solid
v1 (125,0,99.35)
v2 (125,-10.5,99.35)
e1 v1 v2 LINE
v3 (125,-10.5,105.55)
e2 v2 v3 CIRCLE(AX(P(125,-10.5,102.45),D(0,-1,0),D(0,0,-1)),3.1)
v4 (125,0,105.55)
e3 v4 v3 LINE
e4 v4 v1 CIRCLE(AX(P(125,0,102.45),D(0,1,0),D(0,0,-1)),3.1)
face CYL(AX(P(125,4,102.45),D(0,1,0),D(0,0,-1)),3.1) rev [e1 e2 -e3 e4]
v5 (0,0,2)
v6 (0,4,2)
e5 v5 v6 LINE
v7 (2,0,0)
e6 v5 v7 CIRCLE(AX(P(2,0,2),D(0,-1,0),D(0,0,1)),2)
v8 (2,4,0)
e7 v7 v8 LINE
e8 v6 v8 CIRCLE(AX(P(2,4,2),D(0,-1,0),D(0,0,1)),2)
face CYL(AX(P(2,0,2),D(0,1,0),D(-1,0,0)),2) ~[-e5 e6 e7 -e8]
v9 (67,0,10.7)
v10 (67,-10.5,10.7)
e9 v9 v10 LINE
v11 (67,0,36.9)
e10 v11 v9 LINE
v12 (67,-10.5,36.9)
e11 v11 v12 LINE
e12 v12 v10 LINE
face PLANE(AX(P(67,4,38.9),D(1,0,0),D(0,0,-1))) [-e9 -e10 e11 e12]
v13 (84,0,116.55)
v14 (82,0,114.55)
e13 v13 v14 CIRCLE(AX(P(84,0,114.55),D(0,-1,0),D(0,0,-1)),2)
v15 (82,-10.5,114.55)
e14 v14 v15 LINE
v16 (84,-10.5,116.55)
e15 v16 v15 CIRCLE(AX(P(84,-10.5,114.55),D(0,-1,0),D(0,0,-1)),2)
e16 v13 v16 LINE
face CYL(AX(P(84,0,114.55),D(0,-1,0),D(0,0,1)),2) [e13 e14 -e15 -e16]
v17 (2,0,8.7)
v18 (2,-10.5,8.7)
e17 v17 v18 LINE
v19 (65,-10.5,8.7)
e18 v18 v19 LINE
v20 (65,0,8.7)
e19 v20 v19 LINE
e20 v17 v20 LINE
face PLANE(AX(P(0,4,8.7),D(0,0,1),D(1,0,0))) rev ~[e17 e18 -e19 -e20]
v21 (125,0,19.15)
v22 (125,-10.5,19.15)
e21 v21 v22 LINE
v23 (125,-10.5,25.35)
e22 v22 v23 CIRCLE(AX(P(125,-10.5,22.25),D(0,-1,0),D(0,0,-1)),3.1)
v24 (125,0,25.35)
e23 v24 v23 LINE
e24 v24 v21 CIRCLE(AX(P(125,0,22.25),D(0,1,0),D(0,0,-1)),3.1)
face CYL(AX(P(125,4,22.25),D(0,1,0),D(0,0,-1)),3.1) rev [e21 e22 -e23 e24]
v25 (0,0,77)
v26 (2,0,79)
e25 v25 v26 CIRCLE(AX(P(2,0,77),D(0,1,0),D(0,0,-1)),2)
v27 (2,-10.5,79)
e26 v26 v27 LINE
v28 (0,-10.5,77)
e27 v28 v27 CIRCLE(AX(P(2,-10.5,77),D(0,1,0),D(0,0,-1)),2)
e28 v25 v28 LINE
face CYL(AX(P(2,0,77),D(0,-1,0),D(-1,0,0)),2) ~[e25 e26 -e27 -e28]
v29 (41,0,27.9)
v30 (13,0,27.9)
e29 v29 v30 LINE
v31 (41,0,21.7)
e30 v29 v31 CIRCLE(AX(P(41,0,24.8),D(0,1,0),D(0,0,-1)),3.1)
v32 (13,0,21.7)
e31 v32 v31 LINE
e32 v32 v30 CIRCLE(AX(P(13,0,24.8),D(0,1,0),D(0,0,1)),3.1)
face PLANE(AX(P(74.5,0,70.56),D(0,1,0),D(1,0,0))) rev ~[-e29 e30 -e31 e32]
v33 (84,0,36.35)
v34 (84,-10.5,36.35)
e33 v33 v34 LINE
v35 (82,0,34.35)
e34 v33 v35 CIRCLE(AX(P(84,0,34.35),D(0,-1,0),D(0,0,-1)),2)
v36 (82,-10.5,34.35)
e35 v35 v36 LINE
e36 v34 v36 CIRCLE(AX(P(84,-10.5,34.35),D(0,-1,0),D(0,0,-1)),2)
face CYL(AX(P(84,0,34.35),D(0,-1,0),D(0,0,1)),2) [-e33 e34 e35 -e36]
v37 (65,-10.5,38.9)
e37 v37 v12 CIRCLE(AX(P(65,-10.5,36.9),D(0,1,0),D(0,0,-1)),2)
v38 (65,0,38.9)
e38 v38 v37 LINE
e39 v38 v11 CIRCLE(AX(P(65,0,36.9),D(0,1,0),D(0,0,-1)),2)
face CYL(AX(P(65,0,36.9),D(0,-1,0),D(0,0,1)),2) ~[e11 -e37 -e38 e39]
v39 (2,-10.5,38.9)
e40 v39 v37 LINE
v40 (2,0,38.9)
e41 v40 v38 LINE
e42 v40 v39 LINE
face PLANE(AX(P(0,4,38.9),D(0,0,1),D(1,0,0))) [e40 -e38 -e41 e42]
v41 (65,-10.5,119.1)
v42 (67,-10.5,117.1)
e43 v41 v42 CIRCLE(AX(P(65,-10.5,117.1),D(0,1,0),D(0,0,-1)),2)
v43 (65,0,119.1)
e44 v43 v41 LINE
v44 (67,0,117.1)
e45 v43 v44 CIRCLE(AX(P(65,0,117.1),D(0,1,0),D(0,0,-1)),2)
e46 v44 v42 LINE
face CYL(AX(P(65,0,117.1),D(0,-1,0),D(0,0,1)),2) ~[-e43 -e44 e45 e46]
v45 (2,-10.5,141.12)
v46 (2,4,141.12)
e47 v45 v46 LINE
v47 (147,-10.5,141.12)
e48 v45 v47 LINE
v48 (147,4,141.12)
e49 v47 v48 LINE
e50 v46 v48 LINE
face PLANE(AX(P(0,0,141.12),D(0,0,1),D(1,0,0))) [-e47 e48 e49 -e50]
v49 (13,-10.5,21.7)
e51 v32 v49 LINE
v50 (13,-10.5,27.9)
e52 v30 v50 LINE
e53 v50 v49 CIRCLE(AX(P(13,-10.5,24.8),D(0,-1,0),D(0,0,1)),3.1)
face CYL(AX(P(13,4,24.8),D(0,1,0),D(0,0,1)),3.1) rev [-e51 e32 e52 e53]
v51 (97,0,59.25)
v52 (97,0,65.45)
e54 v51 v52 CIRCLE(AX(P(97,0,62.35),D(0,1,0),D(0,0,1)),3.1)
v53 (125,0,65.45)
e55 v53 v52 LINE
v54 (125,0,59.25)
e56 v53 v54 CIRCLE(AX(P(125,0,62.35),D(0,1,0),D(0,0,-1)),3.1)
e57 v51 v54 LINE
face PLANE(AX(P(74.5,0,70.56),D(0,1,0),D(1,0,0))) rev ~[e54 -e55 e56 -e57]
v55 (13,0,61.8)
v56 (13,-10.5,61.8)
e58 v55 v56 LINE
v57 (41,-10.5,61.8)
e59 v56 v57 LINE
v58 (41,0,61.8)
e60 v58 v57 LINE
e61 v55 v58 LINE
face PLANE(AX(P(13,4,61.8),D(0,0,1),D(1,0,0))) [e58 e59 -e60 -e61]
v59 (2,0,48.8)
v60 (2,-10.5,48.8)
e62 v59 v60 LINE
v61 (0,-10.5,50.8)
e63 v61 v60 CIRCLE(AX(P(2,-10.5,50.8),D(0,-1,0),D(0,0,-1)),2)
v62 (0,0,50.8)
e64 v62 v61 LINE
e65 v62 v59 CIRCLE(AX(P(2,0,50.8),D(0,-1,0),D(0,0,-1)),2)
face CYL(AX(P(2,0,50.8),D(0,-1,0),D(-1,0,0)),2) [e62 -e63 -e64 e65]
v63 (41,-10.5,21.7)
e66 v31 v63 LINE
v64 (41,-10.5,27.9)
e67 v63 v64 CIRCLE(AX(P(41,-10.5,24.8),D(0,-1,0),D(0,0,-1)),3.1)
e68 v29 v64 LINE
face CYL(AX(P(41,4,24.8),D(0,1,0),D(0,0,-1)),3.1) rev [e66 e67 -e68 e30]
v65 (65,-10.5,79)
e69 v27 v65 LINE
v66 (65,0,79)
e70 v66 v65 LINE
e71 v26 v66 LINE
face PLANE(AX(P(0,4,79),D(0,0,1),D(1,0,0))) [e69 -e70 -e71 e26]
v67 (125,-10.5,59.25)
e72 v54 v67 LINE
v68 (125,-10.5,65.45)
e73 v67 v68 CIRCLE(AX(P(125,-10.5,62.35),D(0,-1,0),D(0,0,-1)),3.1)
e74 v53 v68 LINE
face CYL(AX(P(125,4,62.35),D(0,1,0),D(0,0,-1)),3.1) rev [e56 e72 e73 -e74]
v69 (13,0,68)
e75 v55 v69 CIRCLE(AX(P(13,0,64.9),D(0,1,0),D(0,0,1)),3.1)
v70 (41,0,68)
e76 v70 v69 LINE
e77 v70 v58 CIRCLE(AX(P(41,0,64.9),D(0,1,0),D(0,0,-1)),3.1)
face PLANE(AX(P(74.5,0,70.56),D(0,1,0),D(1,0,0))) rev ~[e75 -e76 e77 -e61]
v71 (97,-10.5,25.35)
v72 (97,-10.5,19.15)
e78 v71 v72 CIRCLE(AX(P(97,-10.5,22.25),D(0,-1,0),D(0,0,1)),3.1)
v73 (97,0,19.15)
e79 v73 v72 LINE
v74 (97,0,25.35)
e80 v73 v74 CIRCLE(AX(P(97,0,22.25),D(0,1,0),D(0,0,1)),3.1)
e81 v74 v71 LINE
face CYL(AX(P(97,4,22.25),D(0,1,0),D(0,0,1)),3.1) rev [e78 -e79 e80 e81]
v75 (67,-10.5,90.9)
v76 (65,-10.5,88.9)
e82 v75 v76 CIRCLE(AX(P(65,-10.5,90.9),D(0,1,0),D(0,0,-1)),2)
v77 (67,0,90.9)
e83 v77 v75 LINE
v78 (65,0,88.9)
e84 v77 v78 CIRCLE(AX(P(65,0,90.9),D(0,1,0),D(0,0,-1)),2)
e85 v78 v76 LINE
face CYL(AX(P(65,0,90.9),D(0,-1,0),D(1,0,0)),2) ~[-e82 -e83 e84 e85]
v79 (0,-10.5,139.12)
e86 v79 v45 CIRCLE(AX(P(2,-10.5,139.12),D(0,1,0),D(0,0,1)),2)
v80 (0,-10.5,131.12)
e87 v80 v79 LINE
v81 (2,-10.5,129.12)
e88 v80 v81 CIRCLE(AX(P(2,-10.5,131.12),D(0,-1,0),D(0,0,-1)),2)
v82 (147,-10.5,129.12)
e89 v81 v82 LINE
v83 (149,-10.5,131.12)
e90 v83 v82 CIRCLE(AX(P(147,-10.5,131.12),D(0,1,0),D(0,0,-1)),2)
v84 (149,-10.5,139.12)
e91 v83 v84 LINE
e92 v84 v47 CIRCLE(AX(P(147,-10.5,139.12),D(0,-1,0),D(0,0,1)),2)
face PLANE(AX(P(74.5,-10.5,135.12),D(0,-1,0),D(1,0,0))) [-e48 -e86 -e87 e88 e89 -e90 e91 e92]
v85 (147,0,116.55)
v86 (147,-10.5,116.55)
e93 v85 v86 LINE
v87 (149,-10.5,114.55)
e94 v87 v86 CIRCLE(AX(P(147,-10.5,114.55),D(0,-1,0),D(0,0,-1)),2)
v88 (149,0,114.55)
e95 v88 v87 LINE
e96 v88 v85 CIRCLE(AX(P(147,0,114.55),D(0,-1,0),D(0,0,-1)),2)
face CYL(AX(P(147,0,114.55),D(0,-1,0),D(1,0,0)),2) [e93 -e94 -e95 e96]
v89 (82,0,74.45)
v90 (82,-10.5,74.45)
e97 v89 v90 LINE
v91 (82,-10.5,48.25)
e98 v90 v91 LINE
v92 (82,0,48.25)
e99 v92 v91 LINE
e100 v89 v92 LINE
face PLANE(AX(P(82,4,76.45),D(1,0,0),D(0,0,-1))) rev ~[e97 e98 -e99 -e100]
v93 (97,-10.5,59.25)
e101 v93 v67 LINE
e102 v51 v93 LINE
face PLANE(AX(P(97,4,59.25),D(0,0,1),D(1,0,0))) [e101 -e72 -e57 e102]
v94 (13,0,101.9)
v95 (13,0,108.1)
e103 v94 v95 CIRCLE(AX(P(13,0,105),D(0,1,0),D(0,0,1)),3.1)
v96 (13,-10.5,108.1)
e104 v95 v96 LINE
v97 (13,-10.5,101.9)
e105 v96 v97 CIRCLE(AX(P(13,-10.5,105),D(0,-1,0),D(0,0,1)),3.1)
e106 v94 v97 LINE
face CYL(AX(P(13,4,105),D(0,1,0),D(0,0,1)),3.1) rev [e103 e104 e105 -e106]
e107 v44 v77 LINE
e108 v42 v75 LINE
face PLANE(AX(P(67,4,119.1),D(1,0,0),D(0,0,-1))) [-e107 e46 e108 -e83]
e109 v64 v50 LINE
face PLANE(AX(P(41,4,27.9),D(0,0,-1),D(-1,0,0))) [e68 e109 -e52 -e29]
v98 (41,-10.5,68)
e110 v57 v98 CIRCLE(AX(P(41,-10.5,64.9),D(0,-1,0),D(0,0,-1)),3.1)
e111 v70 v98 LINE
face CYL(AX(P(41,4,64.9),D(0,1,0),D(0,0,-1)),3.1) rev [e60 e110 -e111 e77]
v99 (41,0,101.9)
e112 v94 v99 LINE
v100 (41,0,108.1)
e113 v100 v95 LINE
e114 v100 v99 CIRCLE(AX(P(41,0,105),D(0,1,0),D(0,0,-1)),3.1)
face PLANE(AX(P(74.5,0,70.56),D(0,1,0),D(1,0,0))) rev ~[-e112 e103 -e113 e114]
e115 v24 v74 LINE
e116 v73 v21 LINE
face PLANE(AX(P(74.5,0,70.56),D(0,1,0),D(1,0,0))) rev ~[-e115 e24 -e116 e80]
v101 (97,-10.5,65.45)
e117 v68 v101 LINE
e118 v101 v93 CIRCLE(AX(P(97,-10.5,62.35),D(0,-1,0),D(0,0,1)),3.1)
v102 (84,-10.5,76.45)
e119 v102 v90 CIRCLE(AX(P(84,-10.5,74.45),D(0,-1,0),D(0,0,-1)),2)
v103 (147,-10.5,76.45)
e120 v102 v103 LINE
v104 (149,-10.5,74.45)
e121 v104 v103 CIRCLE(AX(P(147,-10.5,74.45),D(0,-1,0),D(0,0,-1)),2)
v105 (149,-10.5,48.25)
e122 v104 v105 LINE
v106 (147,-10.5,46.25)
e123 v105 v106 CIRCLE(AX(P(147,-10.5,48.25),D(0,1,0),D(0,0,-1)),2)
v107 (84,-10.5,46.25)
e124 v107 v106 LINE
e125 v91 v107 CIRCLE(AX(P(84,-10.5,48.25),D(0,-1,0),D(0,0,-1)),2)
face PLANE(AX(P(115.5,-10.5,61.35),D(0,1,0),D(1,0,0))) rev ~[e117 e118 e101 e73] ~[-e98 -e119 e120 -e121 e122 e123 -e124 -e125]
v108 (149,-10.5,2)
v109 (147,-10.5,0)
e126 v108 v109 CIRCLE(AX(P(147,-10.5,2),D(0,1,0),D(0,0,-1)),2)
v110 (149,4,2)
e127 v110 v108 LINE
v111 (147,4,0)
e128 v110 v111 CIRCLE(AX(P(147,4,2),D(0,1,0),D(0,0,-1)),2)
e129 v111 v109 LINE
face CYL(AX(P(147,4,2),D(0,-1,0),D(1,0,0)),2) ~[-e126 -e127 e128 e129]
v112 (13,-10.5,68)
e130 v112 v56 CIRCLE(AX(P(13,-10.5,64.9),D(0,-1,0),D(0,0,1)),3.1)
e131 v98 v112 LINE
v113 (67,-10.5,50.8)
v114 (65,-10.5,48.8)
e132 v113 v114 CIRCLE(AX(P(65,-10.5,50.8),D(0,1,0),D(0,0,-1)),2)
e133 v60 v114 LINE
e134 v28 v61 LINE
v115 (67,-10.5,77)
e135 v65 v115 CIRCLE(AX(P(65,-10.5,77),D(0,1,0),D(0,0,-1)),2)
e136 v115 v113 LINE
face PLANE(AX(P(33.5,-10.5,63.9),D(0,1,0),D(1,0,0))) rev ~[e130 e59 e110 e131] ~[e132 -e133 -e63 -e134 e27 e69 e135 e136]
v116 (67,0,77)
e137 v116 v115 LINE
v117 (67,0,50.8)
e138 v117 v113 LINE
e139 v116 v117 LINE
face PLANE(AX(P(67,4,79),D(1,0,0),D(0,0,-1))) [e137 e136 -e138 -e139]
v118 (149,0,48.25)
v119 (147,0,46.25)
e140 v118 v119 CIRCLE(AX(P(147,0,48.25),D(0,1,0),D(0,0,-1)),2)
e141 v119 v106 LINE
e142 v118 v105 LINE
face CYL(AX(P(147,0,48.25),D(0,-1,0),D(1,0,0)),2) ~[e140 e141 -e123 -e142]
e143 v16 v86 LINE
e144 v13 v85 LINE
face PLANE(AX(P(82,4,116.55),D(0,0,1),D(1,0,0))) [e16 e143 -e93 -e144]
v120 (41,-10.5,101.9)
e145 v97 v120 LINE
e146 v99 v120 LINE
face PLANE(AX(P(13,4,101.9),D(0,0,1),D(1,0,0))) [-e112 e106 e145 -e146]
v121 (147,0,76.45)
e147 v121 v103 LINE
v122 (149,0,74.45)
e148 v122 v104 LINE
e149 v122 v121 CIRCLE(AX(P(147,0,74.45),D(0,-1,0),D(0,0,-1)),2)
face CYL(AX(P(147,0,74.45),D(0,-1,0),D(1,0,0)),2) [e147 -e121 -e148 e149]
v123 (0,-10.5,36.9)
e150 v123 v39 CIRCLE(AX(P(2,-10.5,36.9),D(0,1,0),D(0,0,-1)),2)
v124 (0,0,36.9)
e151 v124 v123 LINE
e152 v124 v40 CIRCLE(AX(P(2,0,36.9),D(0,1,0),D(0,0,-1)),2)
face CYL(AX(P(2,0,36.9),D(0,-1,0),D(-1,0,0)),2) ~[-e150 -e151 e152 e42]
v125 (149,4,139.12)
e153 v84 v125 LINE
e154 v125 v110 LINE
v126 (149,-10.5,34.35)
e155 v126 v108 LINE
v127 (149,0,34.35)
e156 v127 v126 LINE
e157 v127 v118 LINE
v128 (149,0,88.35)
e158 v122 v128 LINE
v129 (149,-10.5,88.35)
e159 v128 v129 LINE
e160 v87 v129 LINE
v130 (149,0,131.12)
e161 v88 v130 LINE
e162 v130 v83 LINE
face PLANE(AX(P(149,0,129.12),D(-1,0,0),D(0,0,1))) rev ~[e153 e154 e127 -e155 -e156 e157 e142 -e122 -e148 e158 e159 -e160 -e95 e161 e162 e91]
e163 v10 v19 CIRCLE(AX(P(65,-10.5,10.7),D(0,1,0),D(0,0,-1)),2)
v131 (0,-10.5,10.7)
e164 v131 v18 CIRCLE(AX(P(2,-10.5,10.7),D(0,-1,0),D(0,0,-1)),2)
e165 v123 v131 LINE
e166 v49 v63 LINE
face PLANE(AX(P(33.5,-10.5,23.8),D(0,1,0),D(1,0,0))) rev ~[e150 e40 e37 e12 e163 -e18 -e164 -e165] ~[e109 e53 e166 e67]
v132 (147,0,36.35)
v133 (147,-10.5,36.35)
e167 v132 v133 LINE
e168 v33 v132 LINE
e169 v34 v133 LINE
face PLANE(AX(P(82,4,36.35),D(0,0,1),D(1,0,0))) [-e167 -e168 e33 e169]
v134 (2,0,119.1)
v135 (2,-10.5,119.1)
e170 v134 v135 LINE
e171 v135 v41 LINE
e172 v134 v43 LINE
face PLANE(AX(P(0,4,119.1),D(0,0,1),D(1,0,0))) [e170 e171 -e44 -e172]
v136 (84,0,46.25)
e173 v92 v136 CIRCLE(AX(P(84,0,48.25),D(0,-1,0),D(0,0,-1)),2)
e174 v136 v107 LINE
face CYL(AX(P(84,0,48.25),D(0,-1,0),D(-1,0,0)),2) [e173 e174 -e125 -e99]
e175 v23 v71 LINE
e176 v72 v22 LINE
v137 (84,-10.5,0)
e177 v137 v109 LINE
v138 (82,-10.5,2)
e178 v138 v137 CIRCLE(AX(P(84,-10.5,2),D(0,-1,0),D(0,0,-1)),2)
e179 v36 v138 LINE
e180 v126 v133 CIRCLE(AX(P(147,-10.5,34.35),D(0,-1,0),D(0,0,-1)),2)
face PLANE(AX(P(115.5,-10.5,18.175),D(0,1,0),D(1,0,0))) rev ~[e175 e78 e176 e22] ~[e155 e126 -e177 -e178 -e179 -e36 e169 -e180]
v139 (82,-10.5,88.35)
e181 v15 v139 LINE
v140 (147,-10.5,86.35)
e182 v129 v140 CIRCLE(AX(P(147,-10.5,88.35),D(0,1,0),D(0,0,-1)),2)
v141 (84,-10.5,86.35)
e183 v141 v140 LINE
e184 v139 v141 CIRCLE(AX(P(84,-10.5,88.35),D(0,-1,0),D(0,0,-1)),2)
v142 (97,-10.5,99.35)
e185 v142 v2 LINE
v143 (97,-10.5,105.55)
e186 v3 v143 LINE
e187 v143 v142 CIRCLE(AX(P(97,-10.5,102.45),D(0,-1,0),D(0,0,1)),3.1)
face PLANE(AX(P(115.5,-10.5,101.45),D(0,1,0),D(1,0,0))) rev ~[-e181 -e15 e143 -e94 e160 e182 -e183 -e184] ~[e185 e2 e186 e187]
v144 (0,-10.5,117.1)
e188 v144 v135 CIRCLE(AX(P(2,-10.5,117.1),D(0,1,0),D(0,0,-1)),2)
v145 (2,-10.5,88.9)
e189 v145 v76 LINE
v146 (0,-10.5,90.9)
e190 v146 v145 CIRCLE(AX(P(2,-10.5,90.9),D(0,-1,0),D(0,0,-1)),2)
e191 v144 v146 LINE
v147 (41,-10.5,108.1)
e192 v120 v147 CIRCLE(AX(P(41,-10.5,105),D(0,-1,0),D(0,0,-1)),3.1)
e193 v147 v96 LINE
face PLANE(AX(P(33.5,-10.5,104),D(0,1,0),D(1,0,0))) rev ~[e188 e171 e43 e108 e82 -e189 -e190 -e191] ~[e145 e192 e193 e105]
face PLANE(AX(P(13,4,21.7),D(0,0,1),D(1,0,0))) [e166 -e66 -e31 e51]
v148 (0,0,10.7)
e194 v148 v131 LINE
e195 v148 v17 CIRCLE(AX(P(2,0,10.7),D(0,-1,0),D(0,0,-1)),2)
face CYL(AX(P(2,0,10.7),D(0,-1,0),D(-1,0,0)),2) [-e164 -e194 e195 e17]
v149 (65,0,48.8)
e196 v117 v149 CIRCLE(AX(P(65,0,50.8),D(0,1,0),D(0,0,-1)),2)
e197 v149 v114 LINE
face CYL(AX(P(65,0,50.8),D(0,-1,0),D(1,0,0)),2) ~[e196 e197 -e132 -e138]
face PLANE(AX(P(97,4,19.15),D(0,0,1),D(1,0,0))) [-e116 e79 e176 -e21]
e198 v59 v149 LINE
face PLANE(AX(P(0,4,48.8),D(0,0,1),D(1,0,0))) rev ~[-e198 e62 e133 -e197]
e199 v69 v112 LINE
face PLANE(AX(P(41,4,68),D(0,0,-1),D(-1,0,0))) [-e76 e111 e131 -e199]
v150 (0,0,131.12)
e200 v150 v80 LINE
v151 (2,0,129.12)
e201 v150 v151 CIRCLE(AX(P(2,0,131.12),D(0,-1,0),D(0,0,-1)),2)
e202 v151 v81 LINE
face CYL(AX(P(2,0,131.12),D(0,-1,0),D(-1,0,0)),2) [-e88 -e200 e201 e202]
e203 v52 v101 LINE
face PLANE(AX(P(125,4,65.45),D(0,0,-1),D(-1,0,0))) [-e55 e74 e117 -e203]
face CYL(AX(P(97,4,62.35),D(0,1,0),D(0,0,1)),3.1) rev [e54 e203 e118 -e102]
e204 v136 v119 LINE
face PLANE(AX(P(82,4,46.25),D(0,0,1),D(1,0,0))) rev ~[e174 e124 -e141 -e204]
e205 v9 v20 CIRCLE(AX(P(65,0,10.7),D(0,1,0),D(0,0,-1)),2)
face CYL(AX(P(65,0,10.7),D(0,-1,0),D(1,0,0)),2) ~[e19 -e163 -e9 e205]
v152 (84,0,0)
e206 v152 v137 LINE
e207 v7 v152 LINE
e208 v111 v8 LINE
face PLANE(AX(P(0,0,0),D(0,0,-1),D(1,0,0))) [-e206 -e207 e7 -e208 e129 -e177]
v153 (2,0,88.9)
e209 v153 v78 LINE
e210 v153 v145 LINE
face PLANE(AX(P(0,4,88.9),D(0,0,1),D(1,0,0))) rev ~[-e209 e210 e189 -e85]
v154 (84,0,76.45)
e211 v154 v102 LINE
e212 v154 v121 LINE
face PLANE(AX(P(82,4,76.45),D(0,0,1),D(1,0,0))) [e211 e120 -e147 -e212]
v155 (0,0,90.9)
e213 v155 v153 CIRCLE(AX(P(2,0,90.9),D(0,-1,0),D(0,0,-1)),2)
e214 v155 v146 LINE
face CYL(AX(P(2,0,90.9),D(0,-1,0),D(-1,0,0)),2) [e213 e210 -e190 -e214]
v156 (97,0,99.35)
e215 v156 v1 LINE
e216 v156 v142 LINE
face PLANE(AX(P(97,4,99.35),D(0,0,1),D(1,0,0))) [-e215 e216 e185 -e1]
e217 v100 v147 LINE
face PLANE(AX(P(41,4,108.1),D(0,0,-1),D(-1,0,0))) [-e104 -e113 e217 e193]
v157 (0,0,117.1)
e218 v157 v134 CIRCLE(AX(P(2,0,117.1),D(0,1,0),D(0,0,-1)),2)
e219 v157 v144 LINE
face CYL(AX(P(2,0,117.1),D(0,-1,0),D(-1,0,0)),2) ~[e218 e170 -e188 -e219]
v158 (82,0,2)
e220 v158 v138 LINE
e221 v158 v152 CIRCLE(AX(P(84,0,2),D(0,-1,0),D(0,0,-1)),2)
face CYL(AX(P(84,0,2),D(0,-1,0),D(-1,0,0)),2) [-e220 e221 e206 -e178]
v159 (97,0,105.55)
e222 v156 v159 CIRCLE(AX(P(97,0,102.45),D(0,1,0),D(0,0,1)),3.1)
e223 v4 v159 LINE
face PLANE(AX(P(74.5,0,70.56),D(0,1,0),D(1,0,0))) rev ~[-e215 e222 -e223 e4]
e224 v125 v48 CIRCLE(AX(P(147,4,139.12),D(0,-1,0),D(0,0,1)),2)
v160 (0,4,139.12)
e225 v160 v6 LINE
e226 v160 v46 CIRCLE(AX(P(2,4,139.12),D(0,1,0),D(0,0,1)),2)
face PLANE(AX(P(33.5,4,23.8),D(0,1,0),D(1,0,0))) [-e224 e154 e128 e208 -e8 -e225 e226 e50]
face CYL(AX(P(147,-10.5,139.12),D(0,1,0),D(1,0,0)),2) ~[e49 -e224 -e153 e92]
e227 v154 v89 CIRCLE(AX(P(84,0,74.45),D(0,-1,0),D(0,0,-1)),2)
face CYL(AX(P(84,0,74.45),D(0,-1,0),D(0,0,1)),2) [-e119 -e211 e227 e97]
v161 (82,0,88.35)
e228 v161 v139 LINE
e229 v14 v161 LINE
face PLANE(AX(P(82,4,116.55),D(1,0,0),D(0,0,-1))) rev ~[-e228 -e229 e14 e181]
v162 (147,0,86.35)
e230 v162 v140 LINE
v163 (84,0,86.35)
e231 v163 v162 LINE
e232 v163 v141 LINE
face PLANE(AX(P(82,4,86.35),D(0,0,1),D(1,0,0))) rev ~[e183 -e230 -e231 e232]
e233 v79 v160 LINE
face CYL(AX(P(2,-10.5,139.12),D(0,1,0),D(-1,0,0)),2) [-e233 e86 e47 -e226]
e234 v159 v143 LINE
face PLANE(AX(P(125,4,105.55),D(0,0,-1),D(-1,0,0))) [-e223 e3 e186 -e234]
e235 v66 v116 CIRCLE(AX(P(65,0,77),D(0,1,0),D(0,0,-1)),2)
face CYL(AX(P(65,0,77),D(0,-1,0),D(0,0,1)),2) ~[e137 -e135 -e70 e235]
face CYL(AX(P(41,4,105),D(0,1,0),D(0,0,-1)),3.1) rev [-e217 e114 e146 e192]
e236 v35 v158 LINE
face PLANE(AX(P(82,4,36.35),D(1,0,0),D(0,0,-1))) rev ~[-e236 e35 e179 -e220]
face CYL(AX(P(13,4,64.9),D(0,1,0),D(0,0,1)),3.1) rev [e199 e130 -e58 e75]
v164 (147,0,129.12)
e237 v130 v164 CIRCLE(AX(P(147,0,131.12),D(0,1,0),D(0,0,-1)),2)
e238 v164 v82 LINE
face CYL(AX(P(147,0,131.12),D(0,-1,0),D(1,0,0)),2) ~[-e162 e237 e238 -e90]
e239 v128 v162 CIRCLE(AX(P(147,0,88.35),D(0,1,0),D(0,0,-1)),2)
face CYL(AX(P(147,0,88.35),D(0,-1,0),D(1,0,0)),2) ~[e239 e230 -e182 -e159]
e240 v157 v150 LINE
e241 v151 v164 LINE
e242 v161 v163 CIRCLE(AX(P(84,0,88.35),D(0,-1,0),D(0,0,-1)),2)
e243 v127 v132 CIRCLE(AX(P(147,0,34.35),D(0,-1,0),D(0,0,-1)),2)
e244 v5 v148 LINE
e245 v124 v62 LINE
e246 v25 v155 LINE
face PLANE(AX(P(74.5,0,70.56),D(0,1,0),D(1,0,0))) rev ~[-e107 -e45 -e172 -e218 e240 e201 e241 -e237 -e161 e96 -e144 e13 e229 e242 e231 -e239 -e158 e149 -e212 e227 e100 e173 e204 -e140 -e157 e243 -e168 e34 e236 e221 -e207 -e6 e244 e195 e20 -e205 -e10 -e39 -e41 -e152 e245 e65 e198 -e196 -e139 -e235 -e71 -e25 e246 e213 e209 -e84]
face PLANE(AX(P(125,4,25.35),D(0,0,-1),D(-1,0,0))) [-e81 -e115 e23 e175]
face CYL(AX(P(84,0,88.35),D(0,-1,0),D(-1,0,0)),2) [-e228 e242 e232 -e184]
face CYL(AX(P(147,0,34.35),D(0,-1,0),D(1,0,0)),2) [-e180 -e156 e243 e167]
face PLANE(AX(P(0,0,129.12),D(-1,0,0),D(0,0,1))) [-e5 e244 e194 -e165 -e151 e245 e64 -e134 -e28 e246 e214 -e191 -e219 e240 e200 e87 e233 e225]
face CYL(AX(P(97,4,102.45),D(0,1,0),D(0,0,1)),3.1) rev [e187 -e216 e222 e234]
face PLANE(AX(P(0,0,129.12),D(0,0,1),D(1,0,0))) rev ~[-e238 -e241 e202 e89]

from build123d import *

# Parameters (mm, degrees)
SKETCH3_W           = 149
SKETCH3_H           = 141.12
BOSS_EXTRUDE1_DEPTH = 4
SKETCH5_W           = 67
SKETCH5_H           = 30.2
SKETCH5_H_2         = 36.35
BOSS_EXTRUDE2_DEPTH = 14.5
FILLET1_R           = 2
SKETCH6_W           = 149
SKETCH6_H           = 12
BOSS_EXTRUDE3_DEPTH = 10.5
FILLET2_R           = 2


with BuildPart() as part:
    # Sketch3 → Boss-Extrude1 (new body)
    with BuildSketch(Plane(origin=(0, 0, 0), x_dir=(1, 0, 0), z_dir=(0, 1, 0))):
        with Locations((74.5, -70.56)):
            Rectangle(SKETCH3_W, SKETCH3_H)
    extrude(amount=BOSS_EXTRUDE1_DEPTH)

    # Sketch5 → Boss-Extrude2 (add)
    # profile 1 of 6: a face of its own
    with BuildSketch(Plane(origin=(0, 4, 0), x_dir=(1, 0, 0), z_dir=(0, 1, 0))):
        with Locations((33.5, -23.8)):
            Rectangle(SKETCH5_W, SKETCH5_H)
        with BuildLine():
            ThreePointArc((13, -27.9), (9.9, -24.8), (13, -21.7))
            Line((13, -21.7), (41, -21.7))
            ThreePointArc((41, -21.7), (44.1, -24.8), (41, -27.9))
            Line((41, -27.9), (13, -27.9))
        make_face(mode=Mode.SUBTRACT)
    # profile 2 of 6: a face of its own
    with BuildSketch(Plane(origin=(0, 4, 0), x_dir=(1, 0, 0), z_dir=(0, 1, 0))):
        with Locations((115.5, -18.175)):
            Rectangle(SKETCH5_W, SKETCH5_H_2)
        with BuildLine():
            ThreePointArc((97, -25.35), (93.9, -22.25), (97, -19.15))
            Line((97, -19.15), (125, -19.15))
            ThreePointArc((125, -19.15), (128.1, -22.25), (125, -25.35))
            Line((125, -25.35), (97, -25.35))
        make_face(mode=Mode.SUBTRACT)
    # profile 3 of 6: a face of its own
    with BuildSketch(Plane(origin=(0, 4, 0), x_dir=(1, 0, 0), z_dir=(0, 1, 0))):
        with Locations((33.5, -63.9)):
            Rectangle(SKETCH5_W, SKETCH5_H)
        with BuildLine():
            ThreePointArc((13, -68), (9.9, -64.9), (13, -61.8))
            Line((13, -61.8), (41, -61.8))
            ThreePointArc((41, -61.8), (44.1, -64.9), (41, -68))
            Line((41, -68), (13, -68))
        make_face(mode=Mode.SUBTRACT)
    # profile 4 of 6: a face of its own
    with BuildSketch(Plane(origin=(0, 4, 0), x_dir=(1, 0, 0), z_dir=(0, 1, 0))):
        with Locations((115.5, -61.35)):
            Rectangle(SKETCH5_W, SKETCH5_H)
        with BuildLine():
            ThreePointArc((97, -65.45), (93.9, -62.35), (97, -59.25))
            Line((97, -59.25), (125, -59.25))
            ThreePointArc((125, -59.25), (128.1, -62.35), (125, -65.45))
            Line((125, -65.45), (97, -65.45))
        make_face(mode=Mode.SUBTRACT)
    # profile 5 of 6: a face of its own
    with BuildSketch(Plane(origin=(0, 4, 0), x_dir=(1, 0, 0), z_dir=(0, 1, 0))):
        with Locations((33.5, -104)):
            Rectangle(SKETCH5_W, SKETCH5_H)
        with BuildLine():
            ThreePointArc((13, -108.1), (9.9, -105), (13, -101.9))
            Line((13, -101.9), (41, -101.9))
            ThreePointArc((41, -101.9), (44.1, -105), (41, -108.1))
            Line((41, -108.1), (13, -108.1))
        make_face(mode=Mode.SUBTRACT)
    # profile 6 of 6: a face of its own
    with BuildSketch(Plane(origin=(0, 4, 0), x_dir=(1, 0, 0), z_dir=(0, 1, 0))):
        with Locations((115.5, -101.45)):
            Rectangle(SKETCH5_W, SKETCH5_H)
        with BuildLine():
            ThreePointArc((97, -105.55), (93.9, -102.45), (97, -99.35))
            Line((97, -99.35), (125, -99.35))
            ThreePointArc((125, -99.35), (128.1, -102.45), (125, -105.55))
            Line((125, -105.55), (97, -105.55))
        make_face(mode=Mode.SUBTRACT)
    extrude(amount=-BOSS_EXTRUDE2_DEPTH)

    # Fillet1
    fillet1_edges = [part.edges().sort_by_distance(p)[0] for p in [
        (67, -5.25, 48.8),
        (67, -5.25, 79),
        (0, -5.25, 79),
        (0, -5.25, 48.8),
        (82, -5.25, 46.25),
        (149, -5.25, 46.25),
        (149, -5.25, 76.45),
        (82, -5.25, 76.45),
        (67, -5.25, 88.9),
        (67, -5.25, 119.1),
        (0, -5.25, 119.1),
        (0, -5.25, 88.9),
        (82, -5.25, 86.35),
        (149, -5.25, 86.35),
        (149, -5.25, 116.55),
        (82, -5.25, 116.55),
        (67, -5.25, 8.7),
        (67, -5.25, 38.9),
        (0, -5.25, 38.9),
        (0, -5.25, 8.7),
        (82, -5.25, 0),
        (149, -5.25, 36.35),
        (82, -5.25, 36.35),
        (149, -3.25, 0),
    ]]
    fillet(fillet1_edges, radius=FILLET1_R)

    # Sketch6 → Boss-Extrude3 (add)
    with BuildSketch(Plane.XZ):
        with Locations((74.5, 135.12)):
            Rectangle(SKETCH6_W, SKETCH6_H)
    extrude(amount=BOSS_EXTRUDE3_DEPTH)

    # Fillet2
    fillet2_edges = [part.edges().sort_by_distance(p)[0] for p in [
        (0, -5.25, 129.12),
        (149, -5.25, 129.12),
        (0, 2, 0),
        (149, -3.25, 141.12),
        (0, -3.25, 141.12),
    ]]
    fillet(fillet2_edges, radius=FILLET2_R)


solid = part.part
